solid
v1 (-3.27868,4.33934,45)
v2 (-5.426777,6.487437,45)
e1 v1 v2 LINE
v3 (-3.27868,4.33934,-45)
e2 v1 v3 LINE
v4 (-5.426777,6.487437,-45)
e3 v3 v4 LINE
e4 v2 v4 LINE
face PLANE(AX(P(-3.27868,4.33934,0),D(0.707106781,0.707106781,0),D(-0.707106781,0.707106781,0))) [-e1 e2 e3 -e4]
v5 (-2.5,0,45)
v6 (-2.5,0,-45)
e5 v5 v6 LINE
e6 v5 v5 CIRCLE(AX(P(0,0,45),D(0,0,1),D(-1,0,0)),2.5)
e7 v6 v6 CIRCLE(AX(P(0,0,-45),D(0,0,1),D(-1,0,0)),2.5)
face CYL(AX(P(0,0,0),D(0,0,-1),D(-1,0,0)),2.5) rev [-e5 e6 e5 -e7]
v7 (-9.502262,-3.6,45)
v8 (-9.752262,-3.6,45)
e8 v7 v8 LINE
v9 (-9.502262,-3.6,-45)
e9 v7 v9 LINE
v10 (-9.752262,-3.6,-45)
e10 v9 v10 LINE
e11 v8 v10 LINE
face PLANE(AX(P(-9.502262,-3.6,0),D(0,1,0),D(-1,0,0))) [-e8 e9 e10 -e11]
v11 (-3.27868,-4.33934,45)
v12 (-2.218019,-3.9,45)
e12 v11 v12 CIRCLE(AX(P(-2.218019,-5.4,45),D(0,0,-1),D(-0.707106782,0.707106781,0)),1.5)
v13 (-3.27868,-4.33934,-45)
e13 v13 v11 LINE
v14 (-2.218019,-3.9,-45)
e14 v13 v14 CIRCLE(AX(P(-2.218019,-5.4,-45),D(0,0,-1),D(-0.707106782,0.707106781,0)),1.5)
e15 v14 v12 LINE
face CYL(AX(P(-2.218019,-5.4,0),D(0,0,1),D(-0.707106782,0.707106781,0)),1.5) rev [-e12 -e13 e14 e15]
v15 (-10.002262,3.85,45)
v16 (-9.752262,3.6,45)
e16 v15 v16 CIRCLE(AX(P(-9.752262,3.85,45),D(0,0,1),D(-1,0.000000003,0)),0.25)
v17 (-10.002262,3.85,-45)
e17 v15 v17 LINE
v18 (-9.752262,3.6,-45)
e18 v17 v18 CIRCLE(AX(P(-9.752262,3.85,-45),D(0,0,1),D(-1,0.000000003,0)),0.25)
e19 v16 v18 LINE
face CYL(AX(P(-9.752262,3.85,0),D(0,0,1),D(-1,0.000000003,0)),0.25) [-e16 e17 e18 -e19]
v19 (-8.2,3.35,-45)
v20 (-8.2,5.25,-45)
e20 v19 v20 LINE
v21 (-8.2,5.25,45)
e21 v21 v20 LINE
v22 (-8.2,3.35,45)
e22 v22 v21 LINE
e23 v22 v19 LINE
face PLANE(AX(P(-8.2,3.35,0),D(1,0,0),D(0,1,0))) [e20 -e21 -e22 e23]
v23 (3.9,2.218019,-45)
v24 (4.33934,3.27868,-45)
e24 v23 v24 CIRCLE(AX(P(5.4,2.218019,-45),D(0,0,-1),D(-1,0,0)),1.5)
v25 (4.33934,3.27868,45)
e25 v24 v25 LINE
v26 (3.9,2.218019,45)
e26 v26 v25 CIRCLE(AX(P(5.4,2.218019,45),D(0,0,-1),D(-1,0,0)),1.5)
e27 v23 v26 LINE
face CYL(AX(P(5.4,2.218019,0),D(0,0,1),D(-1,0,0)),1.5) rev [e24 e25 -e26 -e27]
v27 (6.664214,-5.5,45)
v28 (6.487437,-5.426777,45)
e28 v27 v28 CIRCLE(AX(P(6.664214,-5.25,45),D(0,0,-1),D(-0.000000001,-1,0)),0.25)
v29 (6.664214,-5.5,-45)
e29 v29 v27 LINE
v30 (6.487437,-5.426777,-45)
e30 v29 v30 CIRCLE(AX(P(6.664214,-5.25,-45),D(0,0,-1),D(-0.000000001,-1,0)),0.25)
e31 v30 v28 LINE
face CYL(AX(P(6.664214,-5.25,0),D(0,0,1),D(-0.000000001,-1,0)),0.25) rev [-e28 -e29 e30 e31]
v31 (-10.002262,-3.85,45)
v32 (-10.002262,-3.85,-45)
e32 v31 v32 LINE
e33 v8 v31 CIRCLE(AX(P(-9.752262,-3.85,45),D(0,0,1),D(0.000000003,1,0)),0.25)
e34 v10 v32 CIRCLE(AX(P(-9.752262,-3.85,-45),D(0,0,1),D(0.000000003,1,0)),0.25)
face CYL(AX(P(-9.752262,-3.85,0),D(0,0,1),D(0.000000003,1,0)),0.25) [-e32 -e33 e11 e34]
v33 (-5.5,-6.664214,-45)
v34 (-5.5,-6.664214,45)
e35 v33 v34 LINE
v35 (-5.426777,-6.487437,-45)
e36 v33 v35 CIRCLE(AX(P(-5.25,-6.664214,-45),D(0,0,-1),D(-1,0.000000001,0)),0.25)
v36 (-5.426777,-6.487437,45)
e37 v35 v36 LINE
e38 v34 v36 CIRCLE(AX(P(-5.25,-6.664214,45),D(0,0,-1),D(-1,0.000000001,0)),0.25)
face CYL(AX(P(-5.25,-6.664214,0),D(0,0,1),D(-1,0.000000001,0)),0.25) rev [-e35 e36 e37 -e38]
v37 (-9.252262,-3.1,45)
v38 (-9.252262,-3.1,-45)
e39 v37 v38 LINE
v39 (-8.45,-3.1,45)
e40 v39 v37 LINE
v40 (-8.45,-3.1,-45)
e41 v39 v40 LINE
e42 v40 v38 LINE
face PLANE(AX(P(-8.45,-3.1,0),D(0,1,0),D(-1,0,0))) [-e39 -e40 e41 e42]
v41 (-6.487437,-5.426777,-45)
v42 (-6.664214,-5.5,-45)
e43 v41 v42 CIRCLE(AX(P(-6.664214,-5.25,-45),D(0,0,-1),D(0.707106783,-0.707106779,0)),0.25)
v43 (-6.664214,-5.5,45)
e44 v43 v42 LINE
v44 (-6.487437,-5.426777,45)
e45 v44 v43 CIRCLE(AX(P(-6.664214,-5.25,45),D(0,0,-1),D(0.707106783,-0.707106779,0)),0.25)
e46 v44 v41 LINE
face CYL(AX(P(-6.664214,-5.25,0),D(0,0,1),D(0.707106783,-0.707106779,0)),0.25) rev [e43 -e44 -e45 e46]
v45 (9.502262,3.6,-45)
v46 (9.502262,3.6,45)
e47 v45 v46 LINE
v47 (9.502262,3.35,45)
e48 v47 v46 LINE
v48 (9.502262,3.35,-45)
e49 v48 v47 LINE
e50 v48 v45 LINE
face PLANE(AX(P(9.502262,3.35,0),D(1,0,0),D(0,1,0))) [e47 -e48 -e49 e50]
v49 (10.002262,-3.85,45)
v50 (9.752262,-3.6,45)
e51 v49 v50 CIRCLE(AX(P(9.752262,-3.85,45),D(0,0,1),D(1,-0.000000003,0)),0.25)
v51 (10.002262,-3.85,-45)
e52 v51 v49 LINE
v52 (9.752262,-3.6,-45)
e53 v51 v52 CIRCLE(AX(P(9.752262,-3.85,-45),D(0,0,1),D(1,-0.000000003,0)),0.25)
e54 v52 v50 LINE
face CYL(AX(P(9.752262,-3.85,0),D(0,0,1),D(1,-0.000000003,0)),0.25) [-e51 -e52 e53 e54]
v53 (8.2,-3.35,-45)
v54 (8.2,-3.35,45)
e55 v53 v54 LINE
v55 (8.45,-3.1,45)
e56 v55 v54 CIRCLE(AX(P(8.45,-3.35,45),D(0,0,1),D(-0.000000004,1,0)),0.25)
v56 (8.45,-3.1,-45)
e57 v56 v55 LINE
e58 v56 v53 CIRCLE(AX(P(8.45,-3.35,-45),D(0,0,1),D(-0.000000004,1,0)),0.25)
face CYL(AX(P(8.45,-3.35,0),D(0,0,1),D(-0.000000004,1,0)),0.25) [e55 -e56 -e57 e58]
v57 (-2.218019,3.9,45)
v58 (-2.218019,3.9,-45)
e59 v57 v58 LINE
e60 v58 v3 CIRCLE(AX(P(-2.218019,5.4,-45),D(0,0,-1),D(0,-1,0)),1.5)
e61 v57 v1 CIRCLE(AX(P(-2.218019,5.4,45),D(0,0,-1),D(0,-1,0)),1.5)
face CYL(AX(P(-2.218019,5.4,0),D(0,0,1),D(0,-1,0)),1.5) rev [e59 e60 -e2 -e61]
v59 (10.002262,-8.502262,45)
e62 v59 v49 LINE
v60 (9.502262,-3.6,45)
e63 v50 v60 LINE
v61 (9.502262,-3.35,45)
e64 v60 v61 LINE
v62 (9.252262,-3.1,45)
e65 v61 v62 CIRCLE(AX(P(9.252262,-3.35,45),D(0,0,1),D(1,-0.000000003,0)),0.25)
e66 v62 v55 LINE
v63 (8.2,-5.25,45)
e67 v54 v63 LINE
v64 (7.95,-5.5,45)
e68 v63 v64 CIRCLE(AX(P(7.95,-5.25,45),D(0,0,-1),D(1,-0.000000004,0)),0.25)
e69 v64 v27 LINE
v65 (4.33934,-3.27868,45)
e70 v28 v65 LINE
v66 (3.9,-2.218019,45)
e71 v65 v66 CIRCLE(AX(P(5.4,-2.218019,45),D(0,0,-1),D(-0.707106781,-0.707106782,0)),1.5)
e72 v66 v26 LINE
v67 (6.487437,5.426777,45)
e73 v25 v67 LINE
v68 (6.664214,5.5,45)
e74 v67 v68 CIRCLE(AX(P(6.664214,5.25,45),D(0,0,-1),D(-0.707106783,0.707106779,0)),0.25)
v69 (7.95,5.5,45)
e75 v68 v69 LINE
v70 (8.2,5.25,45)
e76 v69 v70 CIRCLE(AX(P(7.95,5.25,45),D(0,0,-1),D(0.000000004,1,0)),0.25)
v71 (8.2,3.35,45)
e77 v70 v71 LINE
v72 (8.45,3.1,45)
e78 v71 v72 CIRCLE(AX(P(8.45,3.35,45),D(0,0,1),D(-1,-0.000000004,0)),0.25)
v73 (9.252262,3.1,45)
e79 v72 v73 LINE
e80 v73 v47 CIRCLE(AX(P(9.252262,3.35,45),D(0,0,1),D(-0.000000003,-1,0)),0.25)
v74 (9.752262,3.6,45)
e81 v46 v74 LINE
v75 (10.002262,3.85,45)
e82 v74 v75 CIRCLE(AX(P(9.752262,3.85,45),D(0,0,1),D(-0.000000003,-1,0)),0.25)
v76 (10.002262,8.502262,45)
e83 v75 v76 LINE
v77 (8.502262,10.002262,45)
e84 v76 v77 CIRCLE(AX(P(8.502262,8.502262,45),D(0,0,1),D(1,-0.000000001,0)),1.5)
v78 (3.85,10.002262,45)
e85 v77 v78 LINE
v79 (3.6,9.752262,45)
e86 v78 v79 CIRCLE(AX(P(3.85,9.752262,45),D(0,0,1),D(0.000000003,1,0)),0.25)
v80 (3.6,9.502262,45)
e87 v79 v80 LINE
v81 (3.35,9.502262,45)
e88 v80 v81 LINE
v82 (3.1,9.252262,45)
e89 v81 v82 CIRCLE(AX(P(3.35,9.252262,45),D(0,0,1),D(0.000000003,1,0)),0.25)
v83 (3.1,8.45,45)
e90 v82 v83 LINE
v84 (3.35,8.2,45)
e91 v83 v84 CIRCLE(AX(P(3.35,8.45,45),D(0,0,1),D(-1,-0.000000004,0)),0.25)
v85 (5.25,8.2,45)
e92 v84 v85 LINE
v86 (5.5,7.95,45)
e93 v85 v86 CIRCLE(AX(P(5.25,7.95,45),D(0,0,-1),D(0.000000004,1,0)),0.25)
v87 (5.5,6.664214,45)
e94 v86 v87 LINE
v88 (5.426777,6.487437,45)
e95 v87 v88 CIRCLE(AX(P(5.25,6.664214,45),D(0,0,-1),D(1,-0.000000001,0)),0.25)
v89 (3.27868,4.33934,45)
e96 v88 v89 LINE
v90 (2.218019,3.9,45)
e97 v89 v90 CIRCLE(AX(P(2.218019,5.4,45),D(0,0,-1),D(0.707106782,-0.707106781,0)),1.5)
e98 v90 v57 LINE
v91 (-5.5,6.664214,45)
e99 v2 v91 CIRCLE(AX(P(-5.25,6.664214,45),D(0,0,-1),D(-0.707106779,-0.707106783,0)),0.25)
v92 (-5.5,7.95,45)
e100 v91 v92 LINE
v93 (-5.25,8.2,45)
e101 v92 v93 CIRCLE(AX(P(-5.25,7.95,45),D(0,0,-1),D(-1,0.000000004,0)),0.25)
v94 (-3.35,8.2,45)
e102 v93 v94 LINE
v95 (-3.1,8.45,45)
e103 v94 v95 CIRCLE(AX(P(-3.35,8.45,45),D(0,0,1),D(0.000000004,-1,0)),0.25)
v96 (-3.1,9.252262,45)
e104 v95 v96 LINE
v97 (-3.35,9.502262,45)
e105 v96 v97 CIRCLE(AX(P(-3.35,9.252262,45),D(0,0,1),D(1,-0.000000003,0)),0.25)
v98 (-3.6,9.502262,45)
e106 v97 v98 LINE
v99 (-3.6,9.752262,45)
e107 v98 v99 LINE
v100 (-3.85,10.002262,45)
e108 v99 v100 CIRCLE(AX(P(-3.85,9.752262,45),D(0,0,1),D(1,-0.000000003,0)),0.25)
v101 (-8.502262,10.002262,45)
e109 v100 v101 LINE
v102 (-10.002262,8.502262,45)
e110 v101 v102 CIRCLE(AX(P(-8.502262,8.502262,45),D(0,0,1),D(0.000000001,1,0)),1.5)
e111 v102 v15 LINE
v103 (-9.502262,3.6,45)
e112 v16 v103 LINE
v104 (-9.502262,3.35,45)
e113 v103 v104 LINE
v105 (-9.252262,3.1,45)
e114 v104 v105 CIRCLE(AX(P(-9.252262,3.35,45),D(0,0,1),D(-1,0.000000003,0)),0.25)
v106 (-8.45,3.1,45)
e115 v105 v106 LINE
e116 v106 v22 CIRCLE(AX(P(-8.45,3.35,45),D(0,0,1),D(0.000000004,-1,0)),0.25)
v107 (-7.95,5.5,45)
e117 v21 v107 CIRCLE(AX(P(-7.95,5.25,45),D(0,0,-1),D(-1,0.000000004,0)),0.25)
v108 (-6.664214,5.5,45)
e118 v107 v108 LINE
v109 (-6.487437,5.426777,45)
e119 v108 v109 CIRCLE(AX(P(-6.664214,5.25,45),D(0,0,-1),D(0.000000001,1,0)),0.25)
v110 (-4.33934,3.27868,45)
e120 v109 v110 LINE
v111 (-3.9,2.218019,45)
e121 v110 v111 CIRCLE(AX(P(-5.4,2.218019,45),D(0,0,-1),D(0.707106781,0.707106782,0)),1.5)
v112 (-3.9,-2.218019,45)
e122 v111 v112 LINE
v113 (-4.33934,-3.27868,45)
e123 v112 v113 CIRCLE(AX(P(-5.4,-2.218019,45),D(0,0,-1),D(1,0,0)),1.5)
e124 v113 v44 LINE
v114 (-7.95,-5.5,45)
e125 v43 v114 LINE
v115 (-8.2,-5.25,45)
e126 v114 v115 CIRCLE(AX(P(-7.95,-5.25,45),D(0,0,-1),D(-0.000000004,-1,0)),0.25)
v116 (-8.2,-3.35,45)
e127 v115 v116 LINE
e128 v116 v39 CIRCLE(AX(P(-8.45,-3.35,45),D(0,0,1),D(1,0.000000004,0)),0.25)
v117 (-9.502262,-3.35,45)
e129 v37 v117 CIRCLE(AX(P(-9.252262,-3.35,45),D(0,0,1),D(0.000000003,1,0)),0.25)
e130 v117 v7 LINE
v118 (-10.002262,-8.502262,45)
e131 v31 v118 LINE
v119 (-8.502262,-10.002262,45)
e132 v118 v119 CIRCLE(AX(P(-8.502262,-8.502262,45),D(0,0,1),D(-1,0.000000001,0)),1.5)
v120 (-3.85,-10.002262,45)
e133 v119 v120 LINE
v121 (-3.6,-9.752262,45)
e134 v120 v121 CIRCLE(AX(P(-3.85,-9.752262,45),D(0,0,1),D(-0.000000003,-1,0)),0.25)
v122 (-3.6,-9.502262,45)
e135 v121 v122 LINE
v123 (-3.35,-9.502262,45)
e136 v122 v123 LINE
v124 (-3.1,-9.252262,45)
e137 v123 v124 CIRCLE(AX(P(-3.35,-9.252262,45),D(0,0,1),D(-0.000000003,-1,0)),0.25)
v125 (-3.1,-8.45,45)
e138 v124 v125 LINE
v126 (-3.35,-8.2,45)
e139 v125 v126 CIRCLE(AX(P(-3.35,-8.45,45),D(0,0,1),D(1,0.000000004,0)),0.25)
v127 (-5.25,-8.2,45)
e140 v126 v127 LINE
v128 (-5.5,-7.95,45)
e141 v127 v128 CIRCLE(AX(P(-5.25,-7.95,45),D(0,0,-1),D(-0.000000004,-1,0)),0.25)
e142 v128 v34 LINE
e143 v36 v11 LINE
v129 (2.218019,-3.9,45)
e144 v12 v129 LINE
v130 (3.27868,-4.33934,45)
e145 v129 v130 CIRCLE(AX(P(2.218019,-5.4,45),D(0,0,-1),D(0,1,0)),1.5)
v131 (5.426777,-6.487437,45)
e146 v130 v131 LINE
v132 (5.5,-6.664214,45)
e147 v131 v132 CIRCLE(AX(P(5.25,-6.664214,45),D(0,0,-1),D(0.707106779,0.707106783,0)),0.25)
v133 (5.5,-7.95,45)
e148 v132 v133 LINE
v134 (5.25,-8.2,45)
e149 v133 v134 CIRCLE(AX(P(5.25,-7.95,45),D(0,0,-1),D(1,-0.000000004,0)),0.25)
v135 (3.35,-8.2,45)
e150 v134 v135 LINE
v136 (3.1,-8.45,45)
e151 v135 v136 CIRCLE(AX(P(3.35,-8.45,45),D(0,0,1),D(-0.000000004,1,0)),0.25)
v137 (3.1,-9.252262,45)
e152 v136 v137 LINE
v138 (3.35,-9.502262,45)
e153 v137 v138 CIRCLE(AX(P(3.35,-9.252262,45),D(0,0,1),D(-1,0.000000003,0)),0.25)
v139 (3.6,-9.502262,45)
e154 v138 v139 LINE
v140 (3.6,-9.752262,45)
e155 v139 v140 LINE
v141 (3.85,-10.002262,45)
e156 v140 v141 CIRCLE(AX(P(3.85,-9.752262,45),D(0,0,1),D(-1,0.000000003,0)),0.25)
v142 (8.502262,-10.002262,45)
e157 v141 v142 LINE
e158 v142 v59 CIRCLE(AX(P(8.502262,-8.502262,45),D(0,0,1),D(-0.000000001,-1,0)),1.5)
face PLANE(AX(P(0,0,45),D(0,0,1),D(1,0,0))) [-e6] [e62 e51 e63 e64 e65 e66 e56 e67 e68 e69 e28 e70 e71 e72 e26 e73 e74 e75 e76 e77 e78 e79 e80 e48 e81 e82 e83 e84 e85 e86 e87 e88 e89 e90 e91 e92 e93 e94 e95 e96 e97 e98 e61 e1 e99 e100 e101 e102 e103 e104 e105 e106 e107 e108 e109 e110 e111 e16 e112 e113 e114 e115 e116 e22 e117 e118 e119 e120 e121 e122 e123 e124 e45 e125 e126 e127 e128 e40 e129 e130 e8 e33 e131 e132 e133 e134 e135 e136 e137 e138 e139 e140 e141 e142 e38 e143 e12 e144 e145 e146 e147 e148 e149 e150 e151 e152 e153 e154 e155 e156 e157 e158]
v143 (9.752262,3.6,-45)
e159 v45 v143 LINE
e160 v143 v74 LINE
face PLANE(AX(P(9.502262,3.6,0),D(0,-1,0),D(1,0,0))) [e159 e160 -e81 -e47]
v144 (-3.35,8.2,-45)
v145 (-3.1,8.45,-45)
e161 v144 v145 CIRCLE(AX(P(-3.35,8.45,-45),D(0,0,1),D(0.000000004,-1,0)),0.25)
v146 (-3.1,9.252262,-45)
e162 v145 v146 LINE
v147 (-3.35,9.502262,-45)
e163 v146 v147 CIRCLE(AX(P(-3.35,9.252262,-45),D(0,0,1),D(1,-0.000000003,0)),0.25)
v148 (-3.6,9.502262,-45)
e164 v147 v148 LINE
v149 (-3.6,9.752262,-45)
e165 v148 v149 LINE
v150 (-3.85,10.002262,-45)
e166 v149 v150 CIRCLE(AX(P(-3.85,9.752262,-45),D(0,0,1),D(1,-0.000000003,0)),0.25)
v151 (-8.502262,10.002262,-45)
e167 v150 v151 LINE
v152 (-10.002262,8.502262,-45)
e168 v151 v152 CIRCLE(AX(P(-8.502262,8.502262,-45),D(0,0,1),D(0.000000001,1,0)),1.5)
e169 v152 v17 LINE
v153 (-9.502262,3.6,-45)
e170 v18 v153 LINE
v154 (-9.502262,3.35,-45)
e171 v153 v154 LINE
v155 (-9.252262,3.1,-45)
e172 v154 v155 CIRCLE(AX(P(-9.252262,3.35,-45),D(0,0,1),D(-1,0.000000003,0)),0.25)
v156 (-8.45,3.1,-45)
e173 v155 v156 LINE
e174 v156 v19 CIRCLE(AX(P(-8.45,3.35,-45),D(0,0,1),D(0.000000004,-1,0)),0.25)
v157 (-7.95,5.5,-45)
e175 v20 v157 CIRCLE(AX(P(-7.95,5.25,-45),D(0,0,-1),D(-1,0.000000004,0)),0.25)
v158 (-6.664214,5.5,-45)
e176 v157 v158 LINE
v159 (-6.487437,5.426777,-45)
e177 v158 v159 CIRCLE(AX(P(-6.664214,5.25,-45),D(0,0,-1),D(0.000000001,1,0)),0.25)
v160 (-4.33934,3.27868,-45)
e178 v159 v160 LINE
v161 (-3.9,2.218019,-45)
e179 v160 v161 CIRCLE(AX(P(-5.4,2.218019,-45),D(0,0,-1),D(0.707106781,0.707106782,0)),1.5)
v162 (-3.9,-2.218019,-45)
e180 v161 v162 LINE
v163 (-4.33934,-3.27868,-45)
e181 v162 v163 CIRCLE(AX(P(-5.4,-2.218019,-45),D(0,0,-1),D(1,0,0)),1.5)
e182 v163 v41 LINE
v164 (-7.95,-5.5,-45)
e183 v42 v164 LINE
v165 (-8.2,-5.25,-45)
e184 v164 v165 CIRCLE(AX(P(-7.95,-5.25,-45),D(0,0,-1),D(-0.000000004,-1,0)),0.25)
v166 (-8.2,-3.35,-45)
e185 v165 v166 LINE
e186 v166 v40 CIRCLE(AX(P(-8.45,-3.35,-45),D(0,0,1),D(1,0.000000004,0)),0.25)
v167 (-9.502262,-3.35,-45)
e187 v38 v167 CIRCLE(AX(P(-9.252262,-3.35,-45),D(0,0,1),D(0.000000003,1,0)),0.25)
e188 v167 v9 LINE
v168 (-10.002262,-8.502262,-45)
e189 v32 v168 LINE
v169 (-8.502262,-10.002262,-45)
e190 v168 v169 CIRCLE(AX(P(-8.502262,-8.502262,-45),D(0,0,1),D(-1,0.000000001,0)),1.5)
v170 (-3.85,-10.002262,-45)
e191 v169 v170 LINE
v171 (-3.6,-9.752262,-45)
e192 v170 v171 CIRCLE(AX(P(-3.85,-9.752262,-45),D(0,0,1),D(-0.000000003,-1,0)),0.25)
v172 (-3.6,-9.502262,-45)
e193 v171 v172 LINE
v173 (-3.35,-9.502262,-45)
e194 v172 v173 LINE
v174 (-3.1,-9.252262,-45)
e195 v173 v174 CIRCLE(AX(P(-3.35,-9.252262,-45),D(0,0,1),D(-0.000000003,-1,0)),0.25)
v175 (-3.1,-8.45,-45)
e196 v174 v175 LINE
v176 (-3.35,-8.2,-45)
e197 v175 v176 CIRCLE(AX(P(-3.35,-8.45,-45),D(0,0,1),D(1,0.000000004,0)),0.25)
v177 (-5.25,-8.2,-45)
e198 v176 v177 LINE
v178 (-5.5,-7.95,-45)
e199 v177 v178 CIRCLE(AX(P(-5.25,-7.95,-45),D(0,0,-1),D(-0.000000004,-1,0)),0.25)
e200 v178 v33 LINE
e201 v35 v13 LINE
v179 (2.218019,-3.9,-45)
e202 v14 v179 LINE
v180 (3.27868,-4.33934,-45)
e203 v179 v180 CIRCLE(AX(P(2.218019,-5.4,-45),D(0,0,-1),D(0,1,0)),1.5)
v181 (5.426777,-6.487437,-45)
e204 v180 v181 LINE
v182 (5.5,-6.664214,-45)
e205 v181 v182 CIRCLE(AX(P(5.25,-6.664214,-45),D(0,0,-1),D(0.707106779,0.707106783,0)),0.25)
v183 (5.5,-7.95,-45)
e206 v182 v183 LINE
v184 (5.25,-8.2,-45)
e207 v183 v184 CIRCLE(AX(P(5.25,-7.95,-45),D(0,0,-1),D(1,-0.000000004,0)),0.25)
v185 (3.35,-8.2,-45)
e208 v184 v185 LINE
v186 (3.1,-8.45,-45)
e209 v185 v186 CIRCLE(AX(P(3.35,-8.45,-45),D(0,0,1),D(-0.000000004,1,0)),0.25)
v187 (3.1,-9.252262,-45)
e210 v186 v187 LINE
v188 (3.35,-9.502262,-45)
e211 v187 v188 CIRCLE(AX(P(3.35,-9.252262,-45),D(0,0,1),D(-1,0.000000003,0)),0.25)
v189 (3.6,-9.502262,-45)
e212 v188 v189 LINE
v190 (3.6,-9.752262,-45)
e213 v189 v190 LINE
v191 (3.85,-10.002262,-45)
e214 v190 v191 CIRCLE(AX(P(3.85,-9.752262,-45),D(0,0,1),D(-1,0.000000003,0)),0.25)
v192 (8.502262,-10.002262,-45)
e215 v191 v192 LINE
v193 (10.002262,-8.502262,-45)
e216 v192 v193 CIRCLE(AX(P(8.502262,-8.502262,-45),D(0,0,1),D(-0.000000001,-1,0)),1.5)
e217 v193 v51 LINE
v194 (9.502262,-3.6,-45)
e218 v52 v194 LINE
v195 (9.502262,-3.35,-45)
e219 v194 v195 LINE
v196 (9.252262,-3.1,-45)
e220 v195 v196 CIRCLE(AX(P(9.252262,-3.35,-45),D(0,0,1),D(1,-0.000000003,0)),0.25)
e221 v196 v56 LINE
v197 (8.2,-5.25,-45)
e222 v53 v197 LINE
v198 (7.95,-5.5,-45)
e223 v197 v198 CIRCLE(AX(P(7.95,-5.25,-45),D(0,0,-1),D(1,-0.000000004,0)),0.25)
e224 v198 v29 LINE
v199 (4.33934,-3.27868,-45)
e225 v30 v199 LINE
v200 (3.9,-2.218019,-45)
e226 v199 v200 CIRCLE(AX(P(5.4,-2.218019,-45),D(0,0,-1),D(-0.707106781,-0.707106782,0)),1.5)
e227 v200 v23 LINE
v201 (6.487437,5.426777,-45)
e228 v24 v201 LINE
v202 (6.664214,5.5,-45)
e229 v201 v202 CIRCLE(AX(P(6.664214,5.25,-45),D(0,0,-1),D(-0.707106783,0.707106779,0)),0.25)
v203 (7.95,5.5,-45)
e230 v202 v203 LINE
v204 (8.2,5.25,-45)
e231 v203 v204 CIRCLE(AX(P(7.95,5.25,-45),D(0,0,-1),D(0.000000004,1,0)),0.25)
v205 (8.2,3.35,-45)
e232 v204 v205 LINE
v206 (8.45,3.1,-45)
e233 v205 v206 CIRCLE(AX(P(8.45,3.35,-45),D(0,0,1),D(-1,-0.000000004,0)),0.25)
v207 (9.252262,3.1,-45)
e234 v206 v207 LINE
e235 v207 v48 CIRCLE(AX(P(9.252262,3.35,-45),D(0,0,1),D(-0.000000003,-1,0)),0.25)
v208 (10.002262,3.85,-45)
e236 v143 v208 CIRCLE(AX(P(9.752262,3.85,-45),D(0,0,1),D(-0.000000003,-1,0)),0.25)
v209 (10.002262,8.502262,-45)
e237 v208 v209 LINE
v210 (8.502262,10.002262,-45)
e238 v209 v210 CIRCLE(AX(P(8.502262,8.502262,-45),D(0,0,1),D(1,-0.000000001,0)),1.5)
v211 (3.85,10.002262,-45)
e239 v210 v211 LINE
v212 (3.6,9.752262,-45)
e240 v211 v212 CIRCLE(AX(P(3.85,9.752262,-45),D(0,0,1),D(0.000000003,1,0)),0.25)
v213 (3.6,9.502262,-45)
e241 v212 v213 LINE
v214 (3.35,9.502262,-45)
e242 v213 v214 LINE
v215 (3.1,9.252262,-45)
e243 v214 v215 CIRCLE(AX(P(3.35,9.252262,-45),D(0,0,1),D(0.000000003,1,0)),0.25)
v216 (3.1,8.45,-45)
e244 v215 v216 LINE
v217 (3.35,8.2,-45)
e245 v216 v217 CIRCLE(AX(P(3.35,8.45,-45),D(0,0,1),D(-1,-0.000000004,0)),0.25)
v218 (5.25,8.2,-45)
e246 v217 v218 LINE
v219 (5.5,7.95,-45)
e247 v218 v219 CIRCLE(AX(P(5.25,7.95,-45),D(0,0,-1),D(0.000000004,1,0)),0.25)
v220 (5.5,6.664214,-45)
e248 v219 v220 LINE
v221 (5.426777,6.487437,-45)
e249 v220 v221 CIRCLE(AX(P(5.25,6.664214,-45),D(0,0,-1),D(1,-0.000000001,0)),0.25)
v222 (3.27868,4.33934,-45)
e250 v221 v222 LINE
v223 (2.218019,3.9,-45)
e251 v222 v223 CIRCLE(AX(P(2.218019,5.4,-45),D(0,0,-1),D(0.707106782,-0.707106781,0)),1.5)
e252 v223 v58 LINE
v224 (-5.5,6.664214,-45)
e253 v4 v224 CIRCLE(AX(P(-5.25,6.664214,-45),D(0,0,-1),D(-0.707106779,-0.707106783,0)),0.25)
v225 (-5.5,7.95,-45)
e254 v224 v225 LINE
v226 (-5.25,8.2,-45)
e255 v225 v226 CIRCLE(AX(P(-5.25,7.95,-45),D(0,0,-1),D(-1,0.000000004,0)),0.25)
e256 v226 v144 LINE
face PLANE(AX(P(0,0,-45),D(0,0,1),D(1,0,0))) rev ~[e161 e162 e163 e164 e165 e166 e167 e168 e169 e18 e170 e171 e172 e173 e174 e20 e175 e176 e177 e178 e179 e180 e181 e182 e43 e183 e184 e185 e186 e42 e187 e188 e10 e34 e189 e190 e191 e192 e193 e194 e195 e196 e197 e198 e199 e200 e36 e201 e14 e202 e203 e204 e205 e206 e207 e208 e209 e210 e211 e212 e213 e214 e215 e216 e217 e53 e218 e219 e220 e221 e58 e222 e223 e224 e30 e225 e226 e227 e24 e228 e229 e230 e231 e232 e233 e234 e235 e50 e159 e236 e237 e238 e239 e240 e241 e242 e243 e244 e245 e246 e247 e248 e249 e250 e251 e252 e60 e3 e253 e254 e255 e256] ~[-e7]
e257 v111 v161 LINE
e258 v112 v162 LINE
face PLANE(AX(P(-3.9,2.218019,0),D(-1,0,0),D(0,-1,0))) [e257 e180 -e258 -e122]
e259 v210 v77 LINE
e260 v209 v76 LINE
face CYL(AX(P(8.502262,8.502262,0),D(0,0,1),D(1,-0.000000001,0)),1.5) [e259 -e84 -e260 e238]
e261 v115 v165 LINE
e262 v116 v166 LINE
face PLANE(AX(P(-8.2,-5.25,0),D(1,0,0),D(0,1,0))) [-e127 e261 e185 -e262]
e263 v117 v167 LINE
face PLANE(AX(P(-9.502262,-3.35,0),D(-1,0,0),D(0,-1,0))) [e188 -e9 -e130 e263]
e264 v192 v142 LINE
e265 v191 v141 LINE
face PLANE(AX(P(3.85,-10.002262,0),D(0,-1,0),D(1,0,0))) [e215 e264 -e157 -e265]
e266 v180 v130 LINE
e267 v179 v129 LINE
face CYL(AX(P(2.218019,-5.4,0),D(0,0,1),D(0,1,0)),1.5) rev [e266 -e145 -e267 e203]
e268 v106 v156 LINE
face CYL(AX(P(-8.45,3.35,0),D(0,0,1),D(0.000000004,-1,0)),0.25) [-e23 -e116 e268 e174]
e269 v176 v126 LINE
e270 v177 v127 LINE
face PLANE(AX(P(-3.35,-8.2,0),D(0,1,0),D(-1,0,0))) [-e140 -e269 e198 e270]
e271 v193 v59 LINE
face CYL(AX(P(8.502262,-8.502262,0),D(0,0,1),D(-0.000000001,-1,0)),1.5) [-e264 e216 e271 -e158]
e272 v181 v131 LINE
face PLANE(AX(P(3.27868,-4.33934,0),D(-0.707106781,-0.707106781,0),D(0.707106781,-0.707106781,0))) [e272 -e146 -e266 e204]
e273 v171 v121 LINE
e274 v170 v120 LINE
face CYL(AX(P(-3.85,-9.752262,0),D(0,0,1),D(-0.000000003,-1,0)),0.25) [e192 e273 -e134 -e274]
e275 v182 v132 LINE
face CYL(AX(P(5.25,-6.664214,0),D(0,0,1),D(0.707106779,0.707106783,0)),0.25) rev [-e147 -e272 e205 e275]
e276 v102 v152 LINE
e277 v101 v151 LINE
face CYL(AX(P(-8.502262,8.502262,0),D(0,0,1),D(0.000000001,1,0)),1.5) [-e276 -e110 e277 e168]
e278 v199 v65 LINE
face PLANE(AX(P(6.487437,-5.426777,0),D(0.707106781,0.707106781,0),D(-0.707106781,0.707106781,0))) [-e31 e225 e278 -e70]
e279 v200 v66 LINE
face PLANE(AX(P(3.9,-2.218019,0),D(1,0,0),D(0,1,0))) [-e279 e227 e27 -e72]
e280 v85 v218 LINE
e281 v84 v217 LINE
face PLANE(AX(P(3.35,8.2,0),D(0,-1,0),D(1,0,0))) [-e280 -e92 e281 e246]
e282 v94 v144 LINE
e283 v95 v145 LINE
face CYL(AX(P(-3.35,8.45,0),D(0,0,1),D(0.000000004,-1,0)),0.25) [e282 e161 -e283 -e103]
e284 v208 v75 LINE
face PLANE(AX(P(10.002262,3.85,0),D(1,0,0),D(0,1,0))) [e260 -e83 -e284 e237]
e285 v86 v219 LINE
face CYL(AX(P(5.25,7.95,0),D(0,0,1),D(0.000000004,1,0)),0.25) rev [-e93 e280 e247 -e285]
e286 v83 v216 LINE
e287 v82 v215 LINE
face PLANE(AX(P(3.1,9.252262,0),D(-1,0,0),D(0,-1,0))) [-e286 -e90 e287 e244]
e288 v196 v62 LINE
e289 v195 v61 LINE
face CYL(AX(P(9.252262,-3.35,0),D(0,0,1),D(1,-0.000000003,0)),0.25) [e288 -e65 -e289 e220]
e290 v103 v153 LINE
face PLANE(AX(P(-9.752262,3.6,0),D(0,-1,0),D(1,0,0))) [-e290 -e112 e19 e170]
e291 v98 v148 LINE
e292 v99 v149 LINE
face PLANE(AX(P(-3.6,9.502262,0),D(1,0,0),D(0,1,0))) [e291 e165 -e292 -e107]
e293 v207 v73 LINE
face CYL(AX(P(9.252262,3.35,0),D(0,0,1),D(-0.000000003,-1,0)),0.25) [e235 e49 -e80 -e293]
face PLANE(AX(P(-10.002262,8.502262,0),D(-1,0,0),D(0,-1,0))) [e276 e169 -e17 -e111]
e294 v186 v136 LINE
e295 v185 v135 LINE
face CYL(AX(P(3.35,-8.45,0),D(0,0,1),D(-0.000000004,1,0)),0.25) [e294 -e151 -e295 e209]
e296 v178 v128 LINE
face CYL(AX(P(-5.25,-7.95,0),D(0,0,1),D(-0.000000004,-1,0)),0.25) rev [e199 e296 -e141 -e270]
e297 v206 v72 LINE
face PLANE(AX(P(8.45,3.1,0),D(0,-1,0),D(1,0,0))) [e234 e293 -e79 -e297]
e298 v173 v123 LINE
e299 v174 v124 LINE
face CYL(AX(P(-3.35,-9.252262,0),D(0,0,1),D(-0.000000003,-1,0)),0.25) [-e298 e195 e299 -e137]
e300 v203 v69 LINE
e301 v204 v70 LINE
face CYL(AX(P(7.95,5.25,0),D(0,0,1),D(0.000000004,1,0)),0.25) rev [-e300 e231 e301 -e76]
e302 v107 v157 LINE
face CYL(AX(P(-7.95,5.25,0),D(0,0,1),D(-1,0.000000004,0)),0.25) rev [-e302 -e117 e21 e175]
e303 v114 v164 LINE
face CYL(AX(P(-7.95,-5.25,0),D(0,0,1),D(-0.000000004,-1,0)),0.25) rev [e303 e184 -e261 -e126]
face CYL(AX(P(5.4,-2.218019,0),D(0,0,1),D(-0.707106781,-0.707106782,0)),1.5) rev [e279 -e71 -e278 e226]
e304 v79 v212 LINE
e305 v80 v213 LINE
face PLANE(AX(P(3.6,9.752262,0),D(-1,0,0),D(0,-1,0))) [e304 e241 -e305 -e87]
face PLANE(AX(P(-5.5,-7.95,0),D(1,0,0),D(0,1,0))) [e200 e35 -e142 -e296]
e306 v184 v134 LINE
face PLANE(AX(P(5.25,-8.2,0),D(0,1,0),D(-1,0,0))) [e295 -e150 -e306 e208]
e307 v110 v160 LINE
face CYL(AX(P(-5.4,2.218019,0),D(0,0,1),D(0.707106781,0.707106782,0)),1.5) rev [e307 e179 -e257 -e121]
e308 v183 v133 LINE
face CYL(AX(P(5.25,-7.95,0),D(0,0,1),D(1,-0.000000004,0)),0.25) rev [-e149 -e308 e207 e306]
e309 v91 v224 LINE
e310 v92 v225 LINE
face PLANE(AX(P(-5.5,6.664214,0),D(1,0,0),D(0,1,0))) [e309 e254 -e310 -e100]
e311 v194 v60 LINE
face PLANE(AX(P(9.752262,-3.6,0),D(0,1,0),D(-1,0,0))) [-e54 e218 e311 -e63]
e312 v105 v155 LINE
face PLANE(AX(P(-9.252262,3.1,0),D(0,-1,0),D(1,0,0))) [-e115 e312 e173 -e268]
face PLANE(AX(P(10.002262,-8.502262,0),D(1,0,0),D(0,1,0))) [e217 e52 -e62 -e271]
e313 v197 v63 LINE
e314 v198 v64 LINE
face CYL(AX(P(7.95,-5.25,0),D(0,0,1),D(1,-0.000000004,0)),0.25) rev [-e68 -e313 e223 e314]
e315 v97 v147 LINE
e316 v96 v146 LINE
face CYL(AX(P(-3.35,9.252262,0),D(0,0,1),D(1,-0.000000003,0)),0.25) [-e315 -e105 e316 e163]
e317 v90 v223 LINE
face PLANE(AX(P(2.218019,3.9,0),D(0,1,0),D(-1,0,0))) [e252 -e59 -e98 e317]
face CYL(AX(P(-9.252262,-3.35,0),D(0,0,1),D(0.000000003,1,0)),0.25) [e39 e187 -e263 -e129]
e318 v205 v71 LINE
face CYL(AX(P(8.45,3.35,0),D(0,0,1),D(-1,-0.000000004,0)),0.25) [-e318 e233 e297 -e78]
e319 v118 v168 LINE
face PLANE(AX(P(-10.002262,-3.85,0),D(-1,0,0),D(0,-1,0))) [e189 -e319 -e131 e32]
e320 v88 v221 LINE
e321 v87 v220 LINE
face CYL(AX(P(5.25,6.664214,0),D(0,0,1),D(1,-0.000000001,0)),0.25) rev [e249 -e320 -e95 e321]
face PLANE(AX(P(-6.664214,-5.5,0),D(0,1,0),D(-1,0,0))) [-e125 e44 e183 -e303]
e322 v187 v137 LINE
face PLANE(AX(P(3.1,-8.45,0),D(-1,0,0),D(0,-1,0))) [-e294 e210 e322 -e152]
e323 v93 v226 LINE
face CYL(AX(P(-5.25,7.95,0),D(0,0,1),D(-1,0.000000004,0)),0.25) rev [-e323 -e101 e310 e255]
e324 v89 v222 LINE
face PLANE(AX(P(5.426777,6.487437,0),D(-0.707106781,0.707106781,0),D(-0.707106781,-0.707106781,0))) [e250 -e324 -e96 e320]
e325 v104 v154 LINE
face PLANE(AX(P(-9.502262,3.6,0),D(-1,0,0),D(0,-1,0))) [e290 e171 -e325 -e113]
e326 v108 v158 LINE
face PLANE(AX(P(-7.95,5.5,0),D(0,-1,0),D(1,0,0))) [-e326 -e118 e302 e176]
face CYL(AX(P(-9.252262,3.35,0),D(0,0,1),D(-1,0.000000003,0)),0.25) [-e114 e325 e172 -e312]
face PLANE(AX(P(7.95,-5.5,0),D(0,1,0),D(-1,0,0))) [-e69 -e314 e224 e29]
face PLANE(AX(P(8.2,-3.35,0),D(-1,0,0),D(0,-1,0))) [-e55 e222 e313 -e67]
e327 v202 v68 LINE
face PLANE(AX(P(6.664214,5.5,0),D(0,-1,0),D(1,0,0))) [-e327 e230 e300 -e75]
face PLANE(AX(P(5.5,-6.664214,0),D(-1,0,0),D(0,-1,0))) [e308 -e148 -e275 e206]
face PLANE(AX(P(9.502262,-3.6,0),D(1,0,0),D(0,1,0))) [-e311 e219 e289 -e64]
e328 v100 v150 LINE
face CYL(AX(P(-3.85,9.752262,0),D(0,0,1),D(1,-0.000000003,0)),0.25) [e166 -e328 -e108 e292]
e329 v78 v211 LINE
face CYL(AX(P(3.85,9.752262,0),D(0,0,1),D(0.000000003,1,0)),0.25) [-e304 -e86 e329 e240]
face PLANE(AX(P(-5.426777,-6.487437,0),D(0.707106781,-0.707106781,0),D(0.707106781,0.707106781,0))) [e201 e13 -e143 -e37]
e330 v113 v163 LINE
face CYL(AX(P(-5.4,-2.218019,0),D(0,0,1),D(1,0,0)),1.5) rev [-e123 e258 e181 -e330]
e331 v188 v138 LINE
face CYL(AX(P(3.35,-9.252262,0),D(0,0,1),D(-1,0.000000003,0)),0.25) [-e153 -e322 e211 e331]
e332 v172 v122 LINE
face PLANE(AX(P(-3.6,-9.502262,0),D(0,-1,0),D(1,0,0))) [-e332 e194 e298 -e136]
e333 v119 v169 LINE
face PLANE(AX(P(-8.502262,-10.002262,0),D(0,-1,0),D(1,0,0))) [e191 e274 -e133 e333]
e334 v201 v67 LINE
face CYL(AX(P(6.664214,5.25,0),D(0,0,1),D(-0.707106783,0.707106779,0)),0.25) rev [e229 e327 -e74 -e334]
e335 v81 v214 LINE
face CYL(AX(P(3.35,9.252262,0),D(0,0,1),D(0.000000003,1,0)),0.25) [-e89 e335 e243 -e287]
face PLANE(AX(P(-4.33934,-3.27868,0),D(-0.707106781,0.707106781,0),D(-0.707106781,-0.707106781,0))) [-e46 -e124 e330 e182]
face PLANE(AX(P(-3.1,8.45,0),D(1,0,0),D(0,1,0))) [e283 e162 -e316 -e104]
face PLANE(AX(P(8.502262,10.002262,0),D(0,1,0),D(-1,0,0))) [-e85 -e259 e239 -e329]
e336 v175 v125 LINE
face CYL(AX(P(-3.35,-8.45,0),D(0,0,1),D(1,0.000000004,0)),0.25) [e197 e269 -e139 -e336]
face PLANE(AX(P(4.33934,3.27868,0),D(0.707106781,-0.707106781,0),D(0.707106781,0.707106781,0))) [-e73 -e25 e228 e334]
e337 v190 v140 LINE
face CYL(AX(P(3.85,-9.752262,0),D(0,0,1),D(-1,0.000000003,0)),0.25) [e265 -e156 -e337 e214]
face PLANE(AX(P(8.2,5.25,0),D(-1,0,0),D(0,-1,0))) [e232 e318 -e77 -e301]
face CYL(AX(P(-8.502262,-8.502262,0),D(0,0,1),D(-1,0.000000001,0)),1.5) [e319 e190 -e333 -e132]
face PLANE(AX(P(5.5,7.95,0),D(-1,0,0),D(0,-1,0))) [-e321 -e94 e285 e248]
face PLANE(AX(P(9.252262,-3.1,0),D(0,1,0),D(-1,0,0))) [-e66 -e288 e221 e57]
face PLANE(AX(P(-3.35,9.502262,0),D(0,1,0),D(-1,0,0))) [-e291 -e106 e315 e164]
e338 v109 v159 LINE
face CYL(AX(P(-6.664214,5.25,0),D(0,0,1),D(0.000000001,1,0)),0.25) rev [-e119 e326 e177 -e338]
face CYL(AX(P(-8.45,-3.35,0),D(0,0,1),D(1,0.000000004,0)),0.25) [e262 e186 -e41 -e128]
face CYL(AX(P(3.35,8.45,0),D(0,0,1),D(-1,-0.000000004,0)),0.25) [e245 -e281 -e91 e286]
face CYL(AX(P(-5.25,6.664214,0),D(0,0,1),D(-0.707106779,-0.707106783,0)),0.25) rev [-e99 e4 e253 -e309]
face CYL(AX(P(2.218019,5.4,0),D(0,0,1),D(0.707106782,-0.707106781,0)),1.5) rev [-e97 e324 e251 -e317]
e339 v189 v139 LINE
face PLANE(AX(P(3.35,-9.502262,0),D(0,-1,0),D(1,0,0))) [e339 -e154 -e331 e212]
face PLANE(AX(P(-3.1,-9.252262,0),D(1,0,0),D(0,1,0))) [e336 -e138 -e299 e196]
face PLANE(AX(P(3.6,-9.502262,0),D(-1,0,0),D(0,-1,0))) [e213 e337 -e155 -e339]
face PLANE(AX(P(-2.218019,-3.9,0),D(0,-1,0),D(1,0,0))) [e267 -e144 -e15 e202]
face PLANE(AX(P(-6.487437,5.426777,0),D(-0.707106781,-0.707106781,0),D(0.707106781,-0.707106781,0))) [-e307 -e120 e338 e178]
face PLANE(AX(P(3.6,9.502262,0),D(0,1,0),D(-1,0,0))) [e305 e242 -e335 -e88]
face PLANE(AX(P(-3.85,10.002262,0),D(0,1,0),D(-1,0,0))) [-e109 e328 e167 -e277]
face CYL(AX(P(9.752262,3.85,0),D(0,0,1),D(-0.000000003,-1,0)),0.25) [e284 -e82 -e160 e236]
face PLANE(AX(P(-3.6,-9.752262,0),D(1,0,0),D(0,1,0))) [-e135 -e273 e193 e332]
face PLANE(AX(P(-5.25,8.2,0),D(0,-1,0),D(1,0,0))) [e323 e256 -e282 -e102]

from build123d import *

# Parameters (mm, degrees)
SKETCH_1_R      = 2.5
EXTRUDE_1_DEPTH = 45


with BuildPart() as part:
    # 草图1 → 凸台-拉伸1 (new, symmetric)
    with BuildSketch(Plane.XY):
        with BuildLine():
            Line((-8.502261885, -10.002261885), (-3.85, -10.002261885))
            ThreePointArc((-3.85, -10.002261885), (-3.673223305, -9.929038581), (-3.6, -9.752261885))
            Line((-3.6, -9.752261885), (-3.6, -9.502261885))
            Line((-3.6, -9.502261885), (-3.35, -9.502261885))
            ThreePointArc((-3.35, -9.502261885), (-3.173223305, -9.429038581), (-3.1, -9.252261885))
            Line((-3.1, -9.252261885), (-3.1, -8.45))
            ThreePointArc((-3.1, -8.45), (-3.173223305, -8.273223305), (-3.35, -8.2))
            Line((-3.35, -8.2), (-5.25, -8.2))
            ThreePointArc((-5.25, -8.2), (-5.426776695, -8.126776695), (-5.5, -7.95))
            Line((-5.5, -7.95), (-5.5, -6.664213562))
            ThreePointArc((-5.5, -6.664213562), (-5.480969883, -6.568542704), (-5.426776695, -6.487436867))
            Line((-5.426776695, -6.487436867), (-3.278679656, -4.339339828))
            ThreePointArc((-3.278679656, -4.339339828), (-2.792044633, -4.014180701), (-2.218019485, -3.9))
            Line((-2.218019485, -3.9), (2.218019485, -3.9))
            ThreePointArc((2.218019485, -3.9), (2.792044633, -4.014180701), (3.278679656, -4.339339828))
            Line((3.278679656, -4.339339828), (5.426776695, -6.487436867))
            ThreePointArc((5.426776695, -6.487436867), (5.480969883, -6.568542704), (5.5, -6.664213562))
            Line((5.5, -6.664213562), (5.5, -7.95))
            ThreePointArc((5.5, -7.95), (5.426776695, -8.126776695), (5.25, -8.2))
            Line((5.25, -8.2), (3.35, -8.2))
            ThreePointArc((3.35, -8.2), (3.173223305, -8.273223305), (3.1, -8.45))
            Line((3.1, -8.45), (3.1, -9.252261885))
            ThreePointArc((3.1, -9.252261885), (3.173223305, -9.429038581), (3.35, -9.502261885))
            Line((3.35, -9.502261885), (3.6, -9.502261885))
            Line((3.6, -9.502261885), (3.6, -9.752261885))
            ThreePointArc((3.6, -9.752261885), (3.673223305, -9.929038581), (3.85, -10.002261885))
            Line((3.85, -10.002261885), (8.502261885, -10.002261885))
            ThreePointArc((8.502261885, -10.002261885), (9.562922057, -9.562922057), (10.002261885, -8.502261885))
            Line((10.002261885, -8.502261885), (10.002261885, -3.85))
            ThreePointArc((10.002261885, -3.85), (9.929038581, -3.673223305), (9.752261885, -3.6))
            Line((9.752261885, -3.6), (9.502261885, -3.6))
            Line((9.502261885, -3.6), (9.502261885, -3.35))
            ThreePointArc((9.502261885, -3.35), (9.429038581, -3.173223305), (9.252261885, -3.1))
            Line((9.252261885, -3.1), (8.45, -3.1))
            ThreePointArc((8.45, -3.1), (8.273223305, -3.173223305), (8.2, -3.35))
            Line((8.2, -3.35), (8.2, -5.25))
            ThreePointArc((8.2, -5.25), (8.126776695, -5.426776695), (7.95, -5.5))
            Line((7.95, -5.5), (6.664213562, -5.5))
            ThreePointArc((6.664213562, -5.5), (6.568542704, -5.480969883), (6.487436867, -5.426776695))
            Line((6.487436867, -5.426776695), (4.339339828, -3.278679656))
            ThreePointArc((4.339339828, -3.278679656), (4.014180701, -2.792044633), (3.9, -2.218019485))
            Line((3.9, -2.218019485), (3.9, 2.218019485))
            ThreePointArc((3.9, 2.218019485), (4.014180701, 2.792044633), (4.339339828, 3.278679656))
            Line((4.339339828, 3.278679656), (6.487436867, 5.426776695))
            ThreePointArc((6.487436867, 5.426776695), (6.568542704, 5.480969883), (6.664213562, 5.5))
            Line((6.664213562, 5.5), (7.95, 5.5))
            ThreePointArc((7.95, 5.5), (8.126776695, 5.426776695), (8.2, 5.25))
            Line((8.2, 5.25), (8.2, 3.35))
            ThreePointArc((8.2, 3.35), (8.273223305, 3.173223305), (8.45, 3.1))
            Line((8.45, 3.1), (9.252261885, 3.1))
            ThreePointArc((9.252261885, 3.1), (9.429038581, 3.173223305), (9.502261885, 3.35))
            Line((9.502261885, 3.35), (9.502261885, 3.6))
            Line((9.502261885, 3.6), (9.752261885, 3.6))
            ThreePointArc((9.752261885, 3.6), (9.929038581, 3.673223305), (10.002261885, 3.85))
            Line((10.002261885, 3.85), (10.002261885, 8.502261885))
            ThreePointArc((10.002261885, 8.502261885), (9.562922057, 9.562922057), (8.502261885, 10.002261885))
            Line((8.502261885, 10.002261885), (3.85, 10.002261885))
            ThreePointArc((3.85, 10.002261885), (3.673223305, 9.929038581), (3.6, 9.752261885))
            Line((3.6, 9.752261885), (3.6, 9.502261885))
            Line((3.6, 9.502261885), (3.35, 9.502261885))
            ThreePointArc((3.35, 9.502261885), (3.173223305, 9.429038581), (3.1, 9.252261885))
            Line((3.1, 9.252261885), (3.1, 8.45))
            ThreePointArc((3.1, 8.45), (3.173223305, 8.273223305), (3.35, 8.2))
            Line((3.35, 8.2), (5.25, 8.2))
            ThreePointArc((5.25, 8.2), (5.426776695, 8.126776695), (5.5, 7.95))
            Line((5.5, 7.95), (5.5, 6.664213562))
            ThreePointArc((5.5, 6.664213562), (5.480969883, 6.568542704), (5.426776695, 6.487436867))
            Line((5.426776695, 6.487436867), (3.278679656, 4.339339828))
            ThreePointArc((3.278679656, 4.339339828), (2.792044633, 4.014180701), (2.218019485, 3.9))
            Line((2.218019485, 3.9), (-2.218019485, 3.9))
            ThreePointArc((-2.218019485, 3.9), (-2.792044633, 4.014180701), (-3.278679656, 4.339339828))
            Line((-3.278679656, 4.339339828), (-5.426776695, 6.487436867))
            ThreePointArc((-5.426776695, 6.487436867), (-5.480969883, 6.568542704), (-5.5, 6.664213562))
            Line((-5.5, 6.664213562), (-5.5, 7.95))
            ThreePointArc((-5.5, 7.95), (-5.426776695, 8.126776695), (-5.25, 8.2))
            Line((-5.25, 8.2), (-3.35, 8.2))
            ThreePointArc((-3.35, 8.2), (-3.173223305, 8.273223305), (-3.1, 8.45))
            Line((-3.1, 8.45), (-3.1, 9.252261885))
            ThreePointArc((-3.1, 9.252261885), (-3.173223305, 9.429038581), (-3.35, 9.502261885))
            Line((-3.35, 9.502261885), (-3.6, 9.502261885))
            Line((-3.6, 9.502261885), (-3.6, 9.752261885))
            ThreePointArc((-3.6, 9.752261885), (-3.673223305, 9.929038581), (-3.85, 10.002261885))
            Line((-3.85, 10.002261885), (-8.502261885, 10.002261885))
            ThreePointArc((-8.502261885, 10.002261885), (-9.562922057, 9.562922057), (-10.002261885, 8.502261885))
            Line((-10.002261885, 8.502261885), (-10.002261885, 3.85))
            ThreePointArc((-10.002261885, 3.85), (-9.929038581, 3.673223305), (-9.752261885, 3.6))
            Line((-9.752261885, 3.6), (-9.502261885, 3.6))
            Line((-9.502261885, 3.6), (-9.502261885, 3.35))
            ThreePointArc((-9.502261885, 3.35), (-9.429038581, 3.173223305), (-9.252261885, 3.1))
            Line((-9.252261885, 3.1), (-8.45, 3.1))
            ThreePointArc((-8.45, 3.1), (-8.273223305, 3.173223305), (-8.2, 3.35))
            Line((-8.2, 3.35), (-8.2, 5.25))
            ThreePointArc((-8.2, 5.25), (-8.126776695, 5.426776695), (-7.95, 5.5))
            Line((-7.95, 5.5), (-6.664213562, 5.5))
            ThreePointArc((-6.664213562, 5.5), (-6.568542704, 5.480969883), (-6.487436867, 5.426776695))
            Line((-6.487436867, 5.426776695), (-4.339339828, 3.278679656))
            ThreePointArc((-4.339339828, 3.278679656), (-4.014180701, 2.792044633), (-3.9, 2.218019485))
            Line((-3.9, 2.218019485), (-3.9, -2.218019485))
            ThreePointArc((-3.9, -2.218019485), (-4.014180701, -2.792044633), (-4.339339828, -3.278679656))
            Line((-4.339339828, -3.278679656), (-6.487436867, -5.426776695))
            ThreePointArc((-6.487436867, -5.426776695), (-6.568542704, -5.480969883), (-6.664213562, -5.5))
            Line((-6.664213562, -5.5), (-7.95, -5.5))
            ThreePointArc((-7.95, -5.5), (-8.126776695, -5.426776695), (-8.2, -5.25))
            Line((-8.2, -5.25), (-8.2, -3.35))
            ThreePointArc((-8.2, -3.35), (-8.273223305, -3.173223305), (-8.45, -3.1))
            Line((-8.45, -3.1), (-9.252261885, -3.1))
            ThreePointArc((-9.252261885, -3.1), (-9.429038581, -3.173223305), (-9.502261885, -3.35))
            Line((-9.502261885, -3.35), (-9.502261885, -3.6))
            Line((-9.502261885, -3.6), (-9.752261885, -3.6))
            ThreePointArc((-9.752261885, -3.6), (-9.929038581, -3.673223305), (-10.002261885, -3.85))
            Line((-10.002261885, -3.85), (-10.002261885, -8.502261885))
            ThreePointArc((-10.002261885, -8.502261885), (-9.562922057, -9.562922057), (-8.502261885, -10.002261885))
        make_face()
        with Locations(Location((0, 0, 0), (0, 0, 180))):
            Circle(SKETCH_1_R, mode=Mode.SUBTRACT)
    extrude(amount=EXTRUDE_1_DEPTH, both=True)


solid = part.part
